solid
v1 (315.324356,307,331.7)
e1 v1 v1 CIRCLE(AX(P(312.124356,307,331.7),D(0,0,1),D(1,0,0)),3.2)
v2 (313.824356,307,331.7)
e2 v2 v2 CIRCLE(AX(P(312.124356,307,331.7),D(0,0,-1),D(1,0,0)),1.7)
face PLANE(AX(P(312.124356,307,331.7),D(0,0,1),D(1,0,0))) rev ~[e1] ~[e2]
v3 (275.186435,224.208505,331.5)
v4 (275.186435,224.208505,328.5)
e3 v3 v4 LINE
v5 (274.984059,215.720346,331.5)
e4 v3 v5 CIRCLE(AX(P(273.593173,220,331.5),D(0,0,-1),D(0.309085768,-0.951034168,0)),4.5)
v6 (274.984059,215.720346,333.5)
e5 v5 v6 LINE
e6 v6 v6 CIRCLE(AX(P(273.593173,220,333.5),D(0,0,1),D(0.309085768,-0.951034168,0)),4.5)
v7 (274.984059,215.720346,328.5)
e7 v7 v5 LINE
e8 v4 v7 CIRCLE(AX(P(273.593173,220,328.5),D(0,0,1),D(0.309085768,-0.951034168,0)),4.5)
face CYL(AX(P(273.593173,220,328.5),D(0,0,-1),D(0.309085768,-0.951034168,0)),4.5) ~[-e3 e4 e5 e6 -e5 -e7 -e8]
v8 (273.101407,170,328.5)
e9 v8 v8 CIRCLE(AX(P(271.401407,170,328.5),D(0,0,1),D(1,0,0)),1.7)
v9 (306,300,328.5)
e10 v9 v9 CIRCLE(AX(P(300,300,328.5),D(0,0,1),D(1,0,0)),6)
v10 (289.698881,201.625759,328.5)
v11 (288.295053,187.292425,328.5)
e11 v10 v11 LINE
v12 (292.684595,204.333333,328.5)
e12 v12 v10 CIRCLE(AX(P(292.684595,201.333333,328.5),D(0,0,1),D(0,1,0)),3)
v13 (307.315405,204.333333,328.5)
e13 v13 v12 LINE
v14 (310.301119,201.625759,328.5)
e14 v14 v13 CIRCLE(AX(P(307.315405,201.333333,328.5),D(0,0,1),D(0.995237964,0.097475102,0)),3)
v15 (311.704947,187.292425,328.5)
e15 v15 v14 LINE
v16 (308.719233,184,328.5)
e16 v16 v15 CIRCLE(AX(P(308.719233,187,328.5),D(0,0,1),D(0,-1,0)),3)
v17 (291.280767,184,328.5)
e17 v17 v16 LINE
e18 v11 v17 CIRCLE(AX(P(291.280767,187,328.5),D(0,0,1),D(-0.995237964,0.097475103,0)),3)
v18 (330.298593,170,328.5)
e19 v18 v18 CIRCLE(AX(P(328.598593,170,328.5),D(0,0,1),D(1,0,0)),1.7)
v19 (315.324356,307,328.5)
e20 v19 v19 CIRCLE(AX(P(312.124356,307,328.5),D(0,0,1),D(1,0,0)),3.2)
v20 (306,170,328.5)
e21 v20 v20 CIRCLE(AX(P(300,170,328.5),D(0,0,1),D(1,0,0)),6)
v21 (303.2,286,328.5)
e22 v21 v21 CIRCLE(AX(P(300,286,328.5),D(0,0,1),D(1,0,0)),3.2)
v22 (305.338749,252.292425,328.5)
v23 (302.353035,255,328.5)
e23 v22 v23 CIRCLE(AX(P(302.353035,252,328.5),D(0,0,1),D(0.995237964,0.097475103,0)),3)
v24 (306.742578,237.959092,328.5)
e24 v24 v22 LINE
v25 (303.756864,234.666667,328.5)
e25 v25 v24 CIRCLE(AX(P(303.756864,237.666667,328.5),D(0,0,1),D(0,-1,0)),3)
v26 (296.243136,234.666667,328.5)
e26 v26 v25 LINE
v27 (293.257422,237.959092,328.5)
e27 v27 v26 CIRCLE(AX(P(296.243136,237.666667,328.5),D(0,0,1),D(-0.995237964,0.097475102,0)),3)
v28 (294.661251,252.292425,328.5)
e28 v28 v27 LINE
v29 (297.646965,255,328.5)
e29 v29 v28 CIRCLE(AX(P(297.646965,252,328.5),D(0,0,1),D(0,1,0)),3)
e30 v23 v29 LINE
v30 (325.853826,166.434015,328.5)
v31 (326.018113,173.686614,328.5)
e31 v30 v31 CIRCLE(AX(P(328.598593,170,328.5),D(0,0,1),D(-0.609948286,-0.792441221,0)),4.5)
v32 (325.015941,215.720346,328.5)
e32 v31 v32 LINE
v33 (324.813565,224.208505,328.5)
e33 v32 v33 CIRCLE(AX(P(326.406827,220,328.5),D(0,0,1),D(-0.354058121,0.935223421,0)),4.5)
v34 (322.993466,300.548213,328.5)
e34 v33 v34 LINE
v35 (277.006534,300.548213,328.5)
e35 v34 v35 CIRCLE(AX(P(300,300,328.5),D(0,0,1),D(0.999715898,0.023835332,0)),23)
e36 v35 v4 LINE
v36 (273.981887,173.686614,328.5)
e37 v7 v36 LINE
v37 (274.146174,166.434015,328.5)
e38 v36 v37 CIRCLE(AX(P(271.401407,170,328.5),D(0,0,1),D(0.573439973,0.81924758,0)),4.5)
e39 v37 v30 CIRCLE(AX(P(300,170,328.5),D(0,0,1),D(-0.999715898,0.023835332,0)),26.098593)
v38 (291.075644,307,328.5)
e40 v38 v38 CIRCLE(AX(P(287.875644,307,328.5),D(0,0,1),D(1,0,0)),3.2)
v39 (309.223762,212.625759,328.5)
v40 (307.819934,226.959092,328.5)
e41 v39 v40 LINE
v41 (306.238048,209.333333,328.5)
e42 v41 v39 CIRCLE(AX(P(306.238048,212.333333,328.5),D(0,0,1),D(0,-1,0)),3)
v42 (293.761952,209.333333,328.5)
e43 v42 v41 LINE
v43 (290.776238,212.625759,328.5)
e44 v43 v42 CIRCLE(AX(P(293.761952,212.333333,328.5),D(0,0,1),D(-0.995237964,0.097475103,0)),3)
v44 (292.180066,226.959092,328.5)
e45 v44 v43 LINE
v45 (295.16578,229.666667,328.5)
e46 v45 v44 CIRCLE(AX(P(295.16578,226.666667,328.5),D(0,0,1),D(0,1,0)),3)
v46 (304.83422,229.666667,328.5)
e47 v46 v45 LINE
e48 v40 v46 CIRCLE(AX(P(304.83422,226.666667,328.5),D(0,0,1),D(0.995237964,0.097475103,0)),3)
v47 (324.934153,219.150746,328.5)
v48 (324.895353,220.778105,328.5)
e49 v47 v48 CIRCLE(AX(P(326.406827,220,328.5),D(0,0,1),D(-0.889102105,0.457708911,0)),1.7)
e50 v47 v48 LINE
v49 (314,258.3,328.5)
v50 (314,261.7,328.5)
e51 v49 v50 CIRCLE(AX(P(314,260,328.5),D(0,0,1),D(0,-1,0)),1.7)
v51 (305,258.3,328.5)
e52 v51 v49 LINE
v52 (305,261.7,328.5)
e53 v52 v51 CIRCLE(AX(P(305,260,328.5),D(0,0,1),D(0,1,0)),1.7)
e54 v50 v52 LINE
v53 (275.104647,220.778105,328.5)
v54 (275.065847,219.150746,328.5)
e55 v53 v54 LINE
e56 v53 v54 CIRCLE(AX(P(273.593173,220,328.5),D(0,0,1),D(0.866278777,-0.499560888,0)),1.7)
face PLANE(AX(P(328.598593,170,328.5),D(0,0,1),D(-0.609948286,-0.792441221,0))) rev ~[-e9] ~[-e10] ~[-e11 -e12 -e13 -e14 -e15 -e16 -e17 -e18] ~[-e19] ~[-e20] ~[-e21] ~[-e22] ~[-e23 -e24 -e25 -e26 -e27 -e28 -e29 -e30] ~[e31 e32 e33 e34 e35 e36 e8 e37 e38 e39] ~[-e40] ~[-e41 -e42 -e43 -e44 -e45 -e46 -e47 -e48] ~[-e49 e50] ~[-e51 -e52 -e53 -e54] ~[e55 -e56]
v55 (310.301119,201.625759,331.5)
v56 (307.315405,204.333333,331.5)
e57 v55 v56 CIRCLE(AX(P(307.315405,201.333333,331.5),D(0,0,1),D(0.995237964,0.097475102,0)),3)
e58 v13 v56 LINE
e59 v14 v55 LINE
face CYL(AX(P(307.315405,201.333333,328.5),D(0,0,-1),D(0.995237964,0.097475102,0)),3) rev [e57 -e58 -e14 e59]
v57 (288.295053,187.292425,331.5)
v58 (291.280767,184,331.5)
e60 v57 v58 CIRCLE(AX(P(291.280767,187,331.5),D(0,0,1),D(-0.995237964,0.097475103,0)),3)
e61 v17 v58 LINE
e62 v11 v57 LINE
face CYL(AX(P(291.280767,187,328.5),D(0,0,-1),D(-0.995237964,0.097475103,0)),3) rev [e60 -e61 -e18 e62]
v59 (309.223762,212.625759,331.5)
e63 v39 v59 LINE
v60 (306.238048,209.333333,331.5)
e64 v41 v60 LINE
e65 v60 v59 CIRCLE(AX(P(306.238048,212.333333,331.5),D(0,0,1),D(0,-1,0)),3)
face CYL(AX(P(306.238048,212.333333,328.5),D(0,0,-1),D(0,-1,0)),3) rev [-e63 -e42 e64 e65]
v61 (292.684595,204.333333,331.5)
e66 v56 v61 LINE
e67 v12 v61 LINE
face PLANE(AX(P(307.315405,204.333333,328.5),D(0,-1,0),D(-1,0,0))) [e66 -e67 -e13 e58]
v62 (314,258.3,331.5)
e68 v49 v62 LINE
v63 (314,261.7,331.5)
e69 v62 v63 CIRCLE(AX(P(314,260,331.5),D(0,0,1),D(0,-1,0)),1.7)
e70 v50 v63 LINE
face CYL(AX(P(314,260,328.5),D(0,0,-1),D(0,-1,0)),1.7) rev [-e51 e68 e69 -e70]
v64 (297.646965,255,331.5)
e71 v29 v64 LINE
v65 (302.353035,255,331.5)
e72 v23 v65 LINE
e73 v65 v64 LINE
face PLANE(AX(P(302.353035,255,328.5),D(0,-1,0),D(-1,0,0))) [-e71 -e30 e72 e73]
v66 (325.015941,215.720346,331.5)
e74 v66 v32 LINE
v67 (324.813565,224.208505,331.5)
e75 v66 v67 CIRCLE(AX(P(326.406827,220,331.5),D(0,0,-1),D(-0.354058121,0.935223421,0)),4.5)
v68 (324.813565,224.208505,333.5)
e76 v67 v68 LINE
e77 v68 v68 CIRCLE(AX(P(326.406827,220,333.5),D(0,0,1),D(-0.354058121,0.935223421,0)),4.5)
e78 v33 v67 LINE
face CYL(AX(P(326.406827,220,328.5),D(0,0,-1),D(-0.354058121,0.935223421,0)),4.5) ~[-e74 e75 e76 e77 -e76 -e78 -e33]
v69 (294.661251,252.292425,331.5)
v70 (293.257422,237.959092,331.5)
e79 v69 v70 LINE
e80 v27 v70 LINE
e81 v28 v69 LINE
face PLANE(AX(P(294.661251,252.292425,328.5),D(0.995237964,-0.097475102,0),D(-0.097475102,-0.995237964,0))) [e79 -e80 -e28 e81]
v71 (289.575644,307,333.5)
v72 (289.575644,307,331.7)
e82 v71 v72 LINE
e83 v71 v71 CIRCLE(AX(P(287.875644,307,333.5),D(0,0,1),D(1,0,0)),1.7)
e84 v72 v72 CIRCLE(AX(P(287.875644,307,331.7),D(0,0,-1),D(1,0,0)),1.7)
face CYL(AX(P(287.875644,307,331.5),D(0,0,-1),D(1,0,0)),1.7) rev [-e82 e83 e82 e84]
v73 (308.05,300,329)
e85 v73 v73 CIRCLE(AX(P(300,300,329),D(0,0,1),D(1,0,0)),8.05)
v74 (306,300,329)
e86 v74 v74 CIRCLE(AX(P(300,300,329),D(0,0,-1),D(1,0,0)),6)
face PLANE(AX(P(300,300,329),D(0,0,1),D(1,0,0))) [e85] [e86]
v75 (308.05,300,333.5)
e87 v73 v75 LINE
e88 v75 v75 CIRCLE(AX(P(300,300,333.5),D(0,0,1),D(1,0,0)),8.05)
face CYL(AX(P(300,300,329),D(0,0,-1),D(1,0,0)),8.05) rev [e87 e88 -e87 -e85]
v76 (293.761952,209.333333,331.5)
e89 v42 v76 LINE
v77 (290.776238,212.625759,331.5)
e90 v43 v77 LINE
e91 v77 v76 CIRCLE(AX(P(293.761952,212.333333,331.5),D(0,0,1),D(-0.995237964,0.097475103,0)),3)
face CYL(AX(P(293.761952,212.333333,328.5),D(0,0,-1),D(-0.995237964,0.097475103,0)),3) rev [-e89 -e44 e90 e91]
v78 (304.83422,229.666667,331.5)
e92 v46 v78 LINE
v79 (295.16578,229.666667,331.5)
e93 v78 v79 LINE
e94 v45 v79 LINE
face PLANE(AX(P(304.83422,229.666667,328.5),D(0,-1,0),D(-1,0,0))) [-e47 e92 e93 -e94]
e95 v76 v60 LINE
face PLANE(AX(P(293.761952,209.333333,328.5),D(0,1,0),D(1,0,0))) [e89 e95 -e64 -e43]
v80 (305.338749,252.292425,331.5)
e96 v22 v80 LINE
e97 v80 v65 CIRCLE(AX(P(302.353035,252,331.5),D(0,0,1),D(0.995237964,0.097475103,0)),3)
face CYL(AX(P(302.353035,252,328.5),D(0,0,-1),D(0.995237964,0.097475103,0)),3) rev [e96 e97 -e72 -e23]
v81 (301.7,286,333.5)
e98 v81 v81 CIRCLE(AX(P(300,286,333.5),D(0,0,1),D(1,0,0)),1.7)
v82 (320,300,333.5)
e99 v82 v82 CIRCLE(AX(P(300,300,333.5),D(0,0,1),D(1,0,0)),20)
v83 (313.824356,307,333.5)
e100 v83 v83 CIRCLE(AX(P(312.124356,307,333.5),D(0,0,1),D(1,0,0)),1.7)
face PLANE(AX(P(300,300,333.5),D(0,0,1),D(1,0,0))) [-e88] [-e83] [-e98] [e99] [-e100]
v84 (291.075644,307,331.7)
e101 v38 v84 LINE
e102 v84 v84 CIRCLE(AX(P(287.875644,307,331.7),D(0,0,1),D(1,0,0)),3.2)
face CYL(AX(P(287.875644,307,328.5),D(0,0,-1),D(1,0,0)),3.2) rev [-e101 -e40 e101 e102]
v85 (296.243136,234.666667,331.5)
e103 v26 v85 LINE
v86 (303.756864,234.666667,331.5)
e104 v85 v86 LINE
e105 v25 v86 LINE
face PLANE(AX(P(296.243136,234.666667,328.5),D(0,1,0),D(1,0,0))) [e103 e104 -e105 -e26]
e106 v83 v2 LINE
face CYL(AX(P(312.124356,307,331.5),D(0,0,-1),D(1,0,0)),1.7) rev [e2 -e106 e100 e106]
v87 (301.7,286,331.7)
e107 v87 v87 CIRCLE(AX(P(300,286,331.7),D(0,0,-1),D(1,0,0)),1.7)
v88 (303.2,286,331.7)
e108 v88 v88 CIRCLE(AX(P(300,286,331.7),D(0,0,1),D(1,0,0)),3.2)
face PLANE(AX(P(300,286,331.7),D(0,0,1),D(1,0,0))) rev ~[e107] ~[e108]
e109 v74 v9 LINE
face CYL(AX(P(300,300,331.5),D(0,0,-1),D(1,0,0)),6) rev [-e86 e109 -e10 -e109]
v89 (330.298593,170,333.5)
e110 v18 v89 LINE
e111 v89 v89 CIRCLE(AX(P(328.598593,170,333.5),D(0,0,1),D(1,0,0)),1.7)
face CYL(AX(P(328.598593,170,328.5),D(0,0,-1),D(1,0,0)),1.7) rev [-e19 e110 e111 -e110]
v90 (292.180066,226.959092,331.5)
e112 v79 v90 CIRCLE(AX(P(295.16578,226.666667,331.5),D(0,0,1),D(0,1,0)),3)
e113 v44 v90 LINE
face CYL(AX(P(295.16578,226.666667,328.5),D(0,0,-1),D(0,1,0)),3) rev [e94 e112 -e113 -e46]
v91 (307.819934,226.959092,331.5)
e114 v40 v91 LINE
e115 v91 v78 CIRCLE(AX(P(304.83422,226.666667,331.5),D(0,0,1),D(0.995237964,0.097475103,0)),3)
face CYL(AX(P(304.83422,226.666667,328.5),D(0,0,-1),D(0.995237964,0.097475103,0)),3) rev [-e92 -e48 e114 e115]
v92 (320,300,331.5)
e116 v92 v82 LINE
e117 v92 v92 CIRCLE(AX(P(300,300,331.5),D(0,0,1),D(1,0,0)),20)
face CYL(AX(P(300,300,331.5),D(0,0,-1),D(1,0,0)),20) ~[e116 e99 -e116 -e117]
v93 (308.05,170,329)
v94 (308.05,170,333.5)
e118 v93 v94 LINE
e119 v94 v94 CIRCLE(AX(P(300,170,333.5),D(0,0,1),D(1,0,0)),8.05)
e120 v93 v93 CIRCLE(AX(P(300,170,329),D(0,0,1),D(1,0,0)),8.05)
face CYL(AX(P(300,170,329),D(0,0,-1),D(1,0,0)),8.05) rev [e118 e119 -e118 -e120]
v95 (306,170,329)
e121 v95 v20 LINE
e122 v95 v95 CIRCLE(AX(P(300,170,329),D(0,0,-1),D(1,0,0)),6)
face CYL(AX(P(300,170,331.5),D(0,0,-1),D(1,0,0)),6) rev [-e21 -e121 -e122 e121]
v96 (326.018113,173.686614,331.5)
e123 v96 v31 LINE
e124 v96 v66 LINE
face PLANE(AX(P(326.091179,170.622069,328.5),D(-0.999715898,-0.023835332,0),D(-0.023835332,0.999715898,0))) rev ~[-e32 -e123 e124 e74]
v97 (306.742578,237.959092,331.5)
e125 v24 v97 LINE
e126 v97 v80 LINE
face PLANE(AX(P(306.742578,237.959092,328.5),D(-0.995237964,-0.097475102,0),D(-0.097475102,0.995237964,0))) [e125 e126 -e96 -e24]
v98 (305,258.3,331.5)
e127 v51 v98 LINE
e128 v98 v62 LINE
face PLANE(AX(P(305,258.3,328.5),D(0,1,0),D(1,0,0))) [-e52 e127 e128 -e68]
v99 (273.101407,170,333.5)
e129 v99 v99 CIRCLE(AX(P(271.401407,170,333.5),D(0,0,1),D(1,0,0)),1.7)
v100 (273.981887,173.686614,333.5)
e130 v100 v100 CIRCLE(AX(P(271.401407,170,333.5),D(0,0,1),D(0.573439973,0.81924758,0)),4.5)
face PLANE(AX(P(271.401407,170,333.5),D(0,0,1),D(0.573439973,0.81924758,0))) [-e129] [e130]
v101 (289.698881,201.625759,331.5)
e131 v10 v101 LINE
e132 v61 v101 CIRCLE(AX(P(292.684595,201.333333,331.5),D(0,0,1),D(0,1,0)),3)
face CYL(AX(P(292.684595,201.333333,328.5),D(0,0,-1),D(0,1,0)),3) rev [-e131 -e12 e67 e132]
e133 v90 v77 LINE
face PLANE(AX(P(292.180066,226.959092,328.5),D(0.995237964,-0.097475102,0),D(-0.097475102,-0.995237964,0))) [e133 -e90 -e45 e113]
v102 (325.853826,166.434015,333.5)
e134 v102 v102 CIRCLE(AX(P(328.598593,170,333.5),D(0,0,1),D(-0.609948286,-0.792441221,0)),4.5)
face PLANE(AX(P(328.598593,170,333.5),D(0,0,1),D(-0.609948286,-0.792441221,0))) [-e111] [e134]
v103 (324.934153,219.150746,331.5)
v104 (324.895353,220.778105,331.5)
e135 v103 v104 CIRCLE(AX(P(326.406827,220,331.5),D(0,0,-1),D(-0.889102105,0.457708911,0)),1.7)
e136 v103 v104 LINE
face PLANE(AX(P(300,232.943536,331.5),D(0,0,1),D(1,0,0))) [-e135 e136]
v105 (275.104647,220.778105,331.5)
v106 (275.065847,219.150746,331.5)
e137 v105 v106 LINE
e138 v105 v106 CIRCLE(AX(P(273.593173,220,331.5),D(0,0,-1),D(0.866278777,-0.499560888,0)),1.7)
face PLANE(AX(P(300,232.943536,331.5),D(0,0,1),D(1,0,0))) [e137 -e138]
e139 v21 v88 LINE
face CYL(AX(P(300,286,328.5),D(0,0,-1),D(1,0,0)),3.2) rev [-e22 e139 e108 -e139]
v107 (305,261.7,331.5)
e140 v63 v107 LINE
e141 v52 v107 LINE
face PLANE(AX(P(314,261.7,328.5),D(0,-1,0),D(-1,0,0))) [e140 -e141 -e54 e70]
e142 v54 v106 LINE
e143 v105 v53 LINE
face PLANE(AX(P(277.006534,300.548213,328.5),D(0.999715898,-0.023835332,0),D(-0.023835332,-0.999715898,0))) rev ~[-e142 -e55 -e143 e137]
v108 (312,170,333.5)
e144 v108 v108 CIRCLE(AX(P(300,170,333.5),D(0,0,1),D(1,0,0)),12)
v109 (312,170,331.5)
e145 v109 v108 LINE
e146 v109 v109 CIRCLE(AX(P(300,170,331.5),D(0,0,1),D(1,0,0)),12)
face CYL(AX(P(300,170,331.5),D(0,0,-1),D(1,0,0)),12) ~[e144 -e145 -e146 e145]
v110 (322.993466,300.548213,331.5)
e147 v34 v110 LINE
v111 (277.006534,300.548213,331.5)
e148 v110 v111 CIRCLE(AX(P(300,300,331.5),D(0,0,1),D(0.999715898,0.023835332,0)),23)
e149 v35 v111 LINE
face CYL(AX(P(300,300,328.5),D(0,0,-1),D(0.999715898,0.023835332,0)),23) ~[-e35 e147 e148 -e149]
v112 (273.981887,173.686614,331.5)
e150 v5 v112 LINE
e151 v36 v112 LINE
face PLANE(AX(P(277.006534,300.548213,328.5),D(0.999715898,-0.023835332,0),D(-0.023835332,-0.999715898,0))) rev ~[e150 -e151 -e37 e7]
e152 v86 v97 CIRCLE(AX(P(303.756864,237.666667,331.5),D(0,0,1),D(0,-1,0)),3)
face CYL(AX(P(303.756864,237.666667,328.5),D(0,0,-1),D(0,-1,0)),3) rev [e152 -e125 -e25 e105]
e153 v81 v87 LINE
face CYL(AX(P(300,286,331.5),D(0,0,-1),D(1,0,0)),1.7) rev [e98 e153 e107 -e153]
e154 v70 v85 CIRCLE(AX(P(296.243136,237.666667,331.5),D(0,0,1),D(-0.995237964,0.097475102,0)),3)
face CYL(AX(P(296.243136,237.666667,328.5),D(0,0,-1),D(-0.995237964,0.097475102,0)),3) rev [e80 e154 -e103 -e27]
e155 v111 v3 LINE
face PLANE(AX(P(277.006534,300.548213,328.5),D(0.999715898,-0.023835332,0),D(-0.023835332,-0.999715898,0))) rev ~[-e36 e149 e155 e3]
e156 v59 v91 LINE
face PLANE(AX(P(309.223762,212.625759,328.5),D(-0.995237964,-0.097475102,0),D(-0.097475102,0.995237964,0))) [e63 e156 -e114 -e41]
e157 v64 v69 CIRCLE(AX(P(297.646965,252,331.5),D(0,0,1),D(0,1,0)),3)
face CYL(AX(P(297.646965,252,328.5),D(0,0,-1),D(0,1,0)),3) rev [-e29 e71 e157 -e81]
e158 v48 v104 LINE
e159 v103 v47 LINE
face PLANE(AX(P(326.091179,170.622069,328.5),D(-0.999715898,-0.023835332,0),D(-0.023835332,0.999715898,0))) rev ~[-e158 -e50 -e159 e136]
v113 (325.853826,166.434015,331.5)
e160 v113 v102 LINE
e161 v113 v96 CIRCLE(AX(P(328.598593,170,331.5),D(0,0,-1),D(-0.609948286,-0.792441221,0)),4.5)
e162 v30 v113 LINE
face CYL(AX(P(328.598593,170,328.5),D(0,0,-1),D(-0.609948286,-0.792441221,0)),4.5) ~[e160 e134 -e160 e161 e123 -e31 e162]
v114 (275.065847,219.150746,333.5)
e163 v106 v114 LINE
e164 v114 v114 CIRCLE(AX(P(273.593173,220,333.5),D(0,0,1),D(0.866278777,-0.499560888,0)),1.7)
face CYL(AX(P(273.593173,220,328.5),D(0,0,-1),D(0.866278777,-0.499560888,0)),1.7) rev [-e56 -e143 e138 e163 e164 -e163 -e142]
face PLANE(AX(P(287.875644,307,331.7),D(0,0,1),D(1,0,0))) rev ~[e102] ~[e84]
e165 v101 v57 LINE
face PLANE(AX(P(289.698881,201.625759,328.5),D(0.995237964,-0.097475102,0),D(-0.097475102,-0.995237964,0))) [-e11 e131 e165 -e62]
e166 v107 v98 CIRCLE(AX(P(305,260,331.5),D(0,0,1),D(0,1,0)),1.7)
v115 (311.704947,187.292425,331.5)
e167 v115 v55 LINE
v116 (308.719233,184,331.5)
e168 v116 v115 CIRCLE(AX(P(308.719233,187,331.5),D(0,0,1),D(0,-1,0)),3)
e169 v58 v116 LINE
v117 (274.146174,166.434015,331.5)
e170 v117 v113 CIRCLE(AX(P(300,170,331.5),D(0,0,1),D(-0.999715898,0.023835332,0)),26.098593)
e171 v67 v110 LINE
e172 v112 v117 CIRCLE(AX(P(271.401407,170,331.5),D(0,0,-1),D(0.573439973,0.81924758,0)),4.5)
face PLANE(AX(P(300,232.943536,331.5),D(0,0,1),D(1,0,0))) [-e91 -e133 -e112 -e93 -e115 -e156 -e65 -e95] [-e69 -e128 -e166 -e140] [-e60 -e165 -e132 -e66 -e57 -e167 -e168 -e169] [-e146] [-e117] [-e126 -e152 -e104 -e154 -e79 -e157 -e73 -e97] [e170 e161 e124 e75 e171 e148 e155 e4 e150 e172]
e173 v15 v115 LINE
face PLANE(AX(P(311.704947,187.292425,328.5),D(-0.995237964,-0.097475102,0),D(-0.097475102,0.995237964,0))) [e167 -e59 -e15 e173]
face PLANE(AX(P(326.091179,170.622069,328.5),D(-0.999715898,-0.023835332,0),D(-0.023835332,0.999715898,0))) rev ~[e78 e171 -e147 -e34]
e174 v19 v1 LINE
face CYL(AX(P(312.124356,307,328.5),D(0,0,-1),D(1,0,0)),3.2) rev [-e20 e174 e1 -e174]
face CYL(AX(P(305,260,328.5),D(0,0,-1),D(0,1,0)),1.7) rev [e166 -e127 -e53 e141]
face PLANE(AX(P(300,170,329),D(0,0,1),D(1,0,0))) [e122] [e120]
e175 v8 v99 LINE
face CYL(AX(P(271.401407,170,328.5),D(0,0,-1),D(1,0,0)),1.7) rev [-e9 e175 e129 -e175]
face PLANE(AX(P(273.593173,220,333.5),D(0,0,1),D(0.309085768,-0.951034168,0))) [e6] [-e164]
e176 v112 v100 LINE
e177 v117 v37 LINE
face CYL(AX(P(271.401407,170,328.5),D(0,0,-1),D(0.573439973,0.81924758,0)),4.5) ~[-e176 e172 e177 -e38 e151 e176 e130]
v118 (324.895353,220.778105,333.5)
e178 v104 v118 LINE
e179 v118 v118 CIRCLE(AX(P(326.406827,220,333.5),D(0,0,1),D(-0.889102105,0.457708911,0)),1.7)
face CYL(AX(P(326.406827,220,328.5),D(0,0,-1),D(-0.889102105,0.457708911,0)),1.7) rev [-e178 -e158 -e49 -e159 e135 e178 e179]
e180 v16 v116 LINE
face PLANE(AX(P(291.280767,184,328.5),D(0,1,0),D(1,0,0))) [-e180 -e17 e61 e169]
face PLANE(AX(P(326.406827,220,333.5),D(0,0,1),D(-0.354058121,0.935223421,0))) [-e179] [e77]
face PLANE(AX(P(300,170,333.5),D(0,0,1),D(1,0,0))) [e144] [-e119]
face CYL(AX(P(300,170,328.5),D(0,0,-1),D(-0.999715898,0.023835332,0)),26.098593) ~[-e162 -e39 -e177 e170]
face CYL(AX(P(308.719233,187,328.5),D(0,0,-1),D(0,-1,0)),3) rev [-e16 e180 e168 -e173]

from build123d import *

# Parameters (mm, degrees)
SKETCH1_R           = 6
SKETCH1_R_2         = 1.7
BOSS_EXTRUDE1_DEPTH = 3
SKETCH2_R           = 20
SKETCH2_R_2         = 6
SKETCH2_R_3         = 1.7
BOSS_EXTRUDE2_DEPTH = 2
SKETCH3_R           = 12
SKETCH3_R_2         = 6
BOSS_EXTRUDE3_DEPTH = 2
SKETCH4_R           = 4.5
SKETCH4_R_2         = 1.7
BOSS_EXTRUDE4_DEPTH = 5
SKETCH5_R           = 4.5
SKETCH5_R_2         = 1.7
BOSS_EXTRUDE5_DEPTH = 5
SKETCH6_R           = 4.5
SKETCH6_R_2         = 1.7
BOSS_EXTRUDE6_DEPTH = 5
SKETCH7_R           = 4.5
SKETCH7_R_2         = 1.7
BOSS_EXTRUDE7_DEPTH = 5
SKETCH8_R           = 8.05
CUT_EXTRUDE1_DEPTH  = 4.5
SKETCH9_R           = 3.2
CUT_EXTRUDE2_DEPTH  = 3.2


with BuildPart() as part:
    # Sketch1 → Boss-Extrude1 (new body)
    with BuildSketch(Plane.XY.offset(328.5)):
        with BuildLine():
            Line((277.006534343, 300.548212638), (273.908821488, 170.622068635))
            ThreePointArc((273.908821488, 170.622068635), (300, 143.901406829), (326.091178512, 170.622068635))
            Line((326.091178512, 170.622068635), (322.993465657, 300.548212638))
            ThreePointArc((322.993465657, 300.548212638), (300, 323), (277.006534343, 300.548212638))
        make_face()
        with Locations((300, 300)):
            Circle(SKETCH1_R, mode=Mode.SUBTRACT)
        with Locations((300, 170)):
            Circle(SKETCH1_R, mode=Mode.SUBTRACT)
        with Locations((312.124355653, 307)):
            Circle(SKETCH1_R_2, mode=Mode.SUBTRACT)
        with Locations((287.875644347, 307)):
            Circle(SKETCH1_R_2, mode=Mode.SUBTRACT)
        with Locations((300, 286)):
            Circle(SKETCH1_R_2, mode=Mode.SUBTRACT)
        with BuildLine():
            Line((305, 258.3), (314, 258.3))
            ThreePointArc((314, 258.3), (315.7, 260), (314, 261.7))
            Line((314, 261.7), (305, 261.7))
            ThreePointArc((305, 261.7), (303.3, 260), (305, 258.3))
        make_face(mode=Mode.SUBTRACT)
        with BuildLine():
            Line((294.661250685, 252.292425307), (293.257422469, 237.959091974))
            ThreePointArc((293.257422469, 237.959091974), (294.02083171, 235.651384543), (296.243136361, 234.666666667))
            Line((296.243136361, 234.666666667), (303.756863639, 234.666666667))
            ThreePointArc((303.756863639, 234.666666667), (305.97916829, 235.651384543), (306.742577531, 237.959091974))
            Line((306.742577531, 237.959091974), (305.338749315, 252.292425307))
            ThreePointArc((305.338749315, 252.292425307), (304.368317547, 254.222304651), (302.353035423, 255))
            Line((302.353035423, 255), (297.646964577, 255))
            ThreePointArc((297.646964577, 255), (295.631682453, 254.222304651), (294.661250685, 252.292425307))
        make_face(mode=Mode.SUBTRACT)
        with BuildLine():
            Line((292.180065932, 226.959091974), (290.776237716, 212.625758641))
            ThreePointArc((290.776237716, 212.625758641), (291.539646956, 210.318051209), (293.761951607, 209.333333333))
            Line((293.761951607, 209.333333333), (306.238048393, 209.333333333))
            ThreePointArc((306.238048393, 209.333333333), (308.460353044, 210.318051209), (309.223762284, 212.625758641))
            Line((309.223762284, 212.625758641), (307.819934068, 226.959091974))
            ThreePointArc((307.819934068, 226.959091974), (306.849502301, 228.888971317), (304.834220177, 229.666666667))
            Line((304.834220177, 229.666666667), (295.165779823, 229.666666667))
            ThreePointArc((295.165779823, 229.666666667), (293.150497699, 228.888971317), (292.180065932, 226.959091974))
        make_face(mode=Mode.SUBTRACT)
        with BuildLine():
            Line((289.698881178, 201.625758641), (288.295052962, 187.292425307))
            ThreePointArc((288.295052962, 187.292425307), (289.058462202, 184.984717876), (291.280766853, 184))
            Line((291.280766853, 184), (308.719233147, 184))
            ThreePointArc((308.719233147, 184), (310.941537798, 184.984717876), (311.704947038, 187.292425307))
            Line((311.704947038, 187.292425307), (310.301118822, 201.625758641))
            ThreePointArc((310.301118822, 201.625758641), (309.330687055, 203.555637984), (307.315404931, 204.333333333))
            Line((307.315404931, 204.333333333), (292.684595069, 204.333333333))
            ThreePointArc((292.684595069, 204.333333333), (290.669312945, 203.555637984), (289.698881178, 201.625758641))
        make_face(mode=Mode.SUBTRACT)
    extrude(amount=BOSS_EXTRUDE1_DEPTH)

    # Sketch2 → Boss-Extrude2 (add)
    with BuildSketch(Plane.XY.offset(331.5)):
        with Locations((300, 300)):
            Circle(SKETCH2_R)
        with Locations((300, 300)):
            Circle(SKETCH2_R_2, mode=Mode.SUBTRACT)
        with Locations((312.124355653, 307)):
            Circle(SKETCH2_R_3, mode=Mode.SUBTRACT)
        with Locations((287.875644347, 307)):
            Circle(SKETCH2_R_3, mode=Mode.SUBTRACT)
        with Locations((300, 286)):
            Circle(SKETCH2_R_3, mode=Mode.SUBTRACT)
    extrude(amount=BOSS_EXTRUDE2_DEPTH)

    # Sketch3 → Boss-Extrude3 (add)
    with BuildSketch(Plane.XY.offset(331.5)):
        with Locations((300, 170)):
            Circle(SKETCH3_R)
        with Locations((300, 170)):
            Circle(SKETCH3_R_2, mode=Mode.SUBTRACT)
    extrude(amount=BOSS_EXTRUDE3_DEPTH)

    # Sketch4 → Boss-Extrude4 (add)
    with BuildSketch(Plane.XY.offset(328.5)):
        with Locations(Location((273.593173433, 220, 0), (0, 0, 288.004143267))):
            Circle(SKETCH4_R)
        with Locations(Location((273.593173433, 220, 0), (0, 0, 330.029047181))):
            Circle(SKETCH4_R_2, mode=Mode.SUBTRACT)
    extrude(amount=BOSS_EXTRUDE4_DEPTH)

    # Sketch5 → Boss-Extrude5 (add)
    with BuildSketch(Plane.XY.offset(328.5)):
        with Locations(Location((326.406826567, 220, 0), (0, 0, 110.735729818))):
            Circle(SKETCH5_R)
        with Locations(Location((326.406826567, 220, 0), (0, 0, 152.760633732))):
            Circle(SKETCH5_R_2, mode=Mode.SUBTRACT)
    extrude(amount=BOSS_EXTRUDE5_DEPTH)

    # Sketch6 → Boss-Extrude6 (add)
    with BuildSketch(Plane.XY.offset(328.5)):
        with Locations(Location((271.401406829, 170, 0), (0, 0, 55.009544434))):
            Circle(SKETCH6_R)
        with Locations((271.401406829, 170)):
            Circle(SKETCH6_R_2, mode=Mode.SUBTRACT)
    extrude(amount=BOSS_EXTRUDE6_DEPTH)

    # Sketch7 → Boss-Extrude7 (add)
    with BuildSketch(Plane.XY.offset(328.5)):
        with Locations(Location((328.598593171, 170, 0), (0, 0, 232.414236235))):
            Circle(SKETCH7_R)
        with Locations((328.598593171, 170)):
            Circle(SKETCH7_R_2, mode=Mode.SUBTRACT)
    extrude(amount=BOSS_EXTRUDE7_DEPTH)

    # Sketch8 → Cut-Extrude1 (cut)
    with BuildSketch(Plane.XY.offset(329)):
        with Locations((300, 300)):
            Circle(SKETCH8_R)
        with Locations((300, 170)):
            Circle(SKETCH8_R)
    extrude(amount=CUT_EXTRUDE1_DEPTH, mode=Mode.SUBTRACT)

    # Sketch9 → Cut-Extrude2 (cut)
    with BuildSketch(Plane.XY.offset(328.5)):
        with Locations((312.124355653, 307)):
            Circle(SKETCH9_R)
        with Locations((287.875644347, 307)):
            Circle(SKETCH9_R)
        with Locations((300, 286)):
            Circle(SKETCH9_R)
    extrude(amount=CUT_EXTRUDE2_DEPTH, mode=Mode.SUBTRACT)


solid = part.part
